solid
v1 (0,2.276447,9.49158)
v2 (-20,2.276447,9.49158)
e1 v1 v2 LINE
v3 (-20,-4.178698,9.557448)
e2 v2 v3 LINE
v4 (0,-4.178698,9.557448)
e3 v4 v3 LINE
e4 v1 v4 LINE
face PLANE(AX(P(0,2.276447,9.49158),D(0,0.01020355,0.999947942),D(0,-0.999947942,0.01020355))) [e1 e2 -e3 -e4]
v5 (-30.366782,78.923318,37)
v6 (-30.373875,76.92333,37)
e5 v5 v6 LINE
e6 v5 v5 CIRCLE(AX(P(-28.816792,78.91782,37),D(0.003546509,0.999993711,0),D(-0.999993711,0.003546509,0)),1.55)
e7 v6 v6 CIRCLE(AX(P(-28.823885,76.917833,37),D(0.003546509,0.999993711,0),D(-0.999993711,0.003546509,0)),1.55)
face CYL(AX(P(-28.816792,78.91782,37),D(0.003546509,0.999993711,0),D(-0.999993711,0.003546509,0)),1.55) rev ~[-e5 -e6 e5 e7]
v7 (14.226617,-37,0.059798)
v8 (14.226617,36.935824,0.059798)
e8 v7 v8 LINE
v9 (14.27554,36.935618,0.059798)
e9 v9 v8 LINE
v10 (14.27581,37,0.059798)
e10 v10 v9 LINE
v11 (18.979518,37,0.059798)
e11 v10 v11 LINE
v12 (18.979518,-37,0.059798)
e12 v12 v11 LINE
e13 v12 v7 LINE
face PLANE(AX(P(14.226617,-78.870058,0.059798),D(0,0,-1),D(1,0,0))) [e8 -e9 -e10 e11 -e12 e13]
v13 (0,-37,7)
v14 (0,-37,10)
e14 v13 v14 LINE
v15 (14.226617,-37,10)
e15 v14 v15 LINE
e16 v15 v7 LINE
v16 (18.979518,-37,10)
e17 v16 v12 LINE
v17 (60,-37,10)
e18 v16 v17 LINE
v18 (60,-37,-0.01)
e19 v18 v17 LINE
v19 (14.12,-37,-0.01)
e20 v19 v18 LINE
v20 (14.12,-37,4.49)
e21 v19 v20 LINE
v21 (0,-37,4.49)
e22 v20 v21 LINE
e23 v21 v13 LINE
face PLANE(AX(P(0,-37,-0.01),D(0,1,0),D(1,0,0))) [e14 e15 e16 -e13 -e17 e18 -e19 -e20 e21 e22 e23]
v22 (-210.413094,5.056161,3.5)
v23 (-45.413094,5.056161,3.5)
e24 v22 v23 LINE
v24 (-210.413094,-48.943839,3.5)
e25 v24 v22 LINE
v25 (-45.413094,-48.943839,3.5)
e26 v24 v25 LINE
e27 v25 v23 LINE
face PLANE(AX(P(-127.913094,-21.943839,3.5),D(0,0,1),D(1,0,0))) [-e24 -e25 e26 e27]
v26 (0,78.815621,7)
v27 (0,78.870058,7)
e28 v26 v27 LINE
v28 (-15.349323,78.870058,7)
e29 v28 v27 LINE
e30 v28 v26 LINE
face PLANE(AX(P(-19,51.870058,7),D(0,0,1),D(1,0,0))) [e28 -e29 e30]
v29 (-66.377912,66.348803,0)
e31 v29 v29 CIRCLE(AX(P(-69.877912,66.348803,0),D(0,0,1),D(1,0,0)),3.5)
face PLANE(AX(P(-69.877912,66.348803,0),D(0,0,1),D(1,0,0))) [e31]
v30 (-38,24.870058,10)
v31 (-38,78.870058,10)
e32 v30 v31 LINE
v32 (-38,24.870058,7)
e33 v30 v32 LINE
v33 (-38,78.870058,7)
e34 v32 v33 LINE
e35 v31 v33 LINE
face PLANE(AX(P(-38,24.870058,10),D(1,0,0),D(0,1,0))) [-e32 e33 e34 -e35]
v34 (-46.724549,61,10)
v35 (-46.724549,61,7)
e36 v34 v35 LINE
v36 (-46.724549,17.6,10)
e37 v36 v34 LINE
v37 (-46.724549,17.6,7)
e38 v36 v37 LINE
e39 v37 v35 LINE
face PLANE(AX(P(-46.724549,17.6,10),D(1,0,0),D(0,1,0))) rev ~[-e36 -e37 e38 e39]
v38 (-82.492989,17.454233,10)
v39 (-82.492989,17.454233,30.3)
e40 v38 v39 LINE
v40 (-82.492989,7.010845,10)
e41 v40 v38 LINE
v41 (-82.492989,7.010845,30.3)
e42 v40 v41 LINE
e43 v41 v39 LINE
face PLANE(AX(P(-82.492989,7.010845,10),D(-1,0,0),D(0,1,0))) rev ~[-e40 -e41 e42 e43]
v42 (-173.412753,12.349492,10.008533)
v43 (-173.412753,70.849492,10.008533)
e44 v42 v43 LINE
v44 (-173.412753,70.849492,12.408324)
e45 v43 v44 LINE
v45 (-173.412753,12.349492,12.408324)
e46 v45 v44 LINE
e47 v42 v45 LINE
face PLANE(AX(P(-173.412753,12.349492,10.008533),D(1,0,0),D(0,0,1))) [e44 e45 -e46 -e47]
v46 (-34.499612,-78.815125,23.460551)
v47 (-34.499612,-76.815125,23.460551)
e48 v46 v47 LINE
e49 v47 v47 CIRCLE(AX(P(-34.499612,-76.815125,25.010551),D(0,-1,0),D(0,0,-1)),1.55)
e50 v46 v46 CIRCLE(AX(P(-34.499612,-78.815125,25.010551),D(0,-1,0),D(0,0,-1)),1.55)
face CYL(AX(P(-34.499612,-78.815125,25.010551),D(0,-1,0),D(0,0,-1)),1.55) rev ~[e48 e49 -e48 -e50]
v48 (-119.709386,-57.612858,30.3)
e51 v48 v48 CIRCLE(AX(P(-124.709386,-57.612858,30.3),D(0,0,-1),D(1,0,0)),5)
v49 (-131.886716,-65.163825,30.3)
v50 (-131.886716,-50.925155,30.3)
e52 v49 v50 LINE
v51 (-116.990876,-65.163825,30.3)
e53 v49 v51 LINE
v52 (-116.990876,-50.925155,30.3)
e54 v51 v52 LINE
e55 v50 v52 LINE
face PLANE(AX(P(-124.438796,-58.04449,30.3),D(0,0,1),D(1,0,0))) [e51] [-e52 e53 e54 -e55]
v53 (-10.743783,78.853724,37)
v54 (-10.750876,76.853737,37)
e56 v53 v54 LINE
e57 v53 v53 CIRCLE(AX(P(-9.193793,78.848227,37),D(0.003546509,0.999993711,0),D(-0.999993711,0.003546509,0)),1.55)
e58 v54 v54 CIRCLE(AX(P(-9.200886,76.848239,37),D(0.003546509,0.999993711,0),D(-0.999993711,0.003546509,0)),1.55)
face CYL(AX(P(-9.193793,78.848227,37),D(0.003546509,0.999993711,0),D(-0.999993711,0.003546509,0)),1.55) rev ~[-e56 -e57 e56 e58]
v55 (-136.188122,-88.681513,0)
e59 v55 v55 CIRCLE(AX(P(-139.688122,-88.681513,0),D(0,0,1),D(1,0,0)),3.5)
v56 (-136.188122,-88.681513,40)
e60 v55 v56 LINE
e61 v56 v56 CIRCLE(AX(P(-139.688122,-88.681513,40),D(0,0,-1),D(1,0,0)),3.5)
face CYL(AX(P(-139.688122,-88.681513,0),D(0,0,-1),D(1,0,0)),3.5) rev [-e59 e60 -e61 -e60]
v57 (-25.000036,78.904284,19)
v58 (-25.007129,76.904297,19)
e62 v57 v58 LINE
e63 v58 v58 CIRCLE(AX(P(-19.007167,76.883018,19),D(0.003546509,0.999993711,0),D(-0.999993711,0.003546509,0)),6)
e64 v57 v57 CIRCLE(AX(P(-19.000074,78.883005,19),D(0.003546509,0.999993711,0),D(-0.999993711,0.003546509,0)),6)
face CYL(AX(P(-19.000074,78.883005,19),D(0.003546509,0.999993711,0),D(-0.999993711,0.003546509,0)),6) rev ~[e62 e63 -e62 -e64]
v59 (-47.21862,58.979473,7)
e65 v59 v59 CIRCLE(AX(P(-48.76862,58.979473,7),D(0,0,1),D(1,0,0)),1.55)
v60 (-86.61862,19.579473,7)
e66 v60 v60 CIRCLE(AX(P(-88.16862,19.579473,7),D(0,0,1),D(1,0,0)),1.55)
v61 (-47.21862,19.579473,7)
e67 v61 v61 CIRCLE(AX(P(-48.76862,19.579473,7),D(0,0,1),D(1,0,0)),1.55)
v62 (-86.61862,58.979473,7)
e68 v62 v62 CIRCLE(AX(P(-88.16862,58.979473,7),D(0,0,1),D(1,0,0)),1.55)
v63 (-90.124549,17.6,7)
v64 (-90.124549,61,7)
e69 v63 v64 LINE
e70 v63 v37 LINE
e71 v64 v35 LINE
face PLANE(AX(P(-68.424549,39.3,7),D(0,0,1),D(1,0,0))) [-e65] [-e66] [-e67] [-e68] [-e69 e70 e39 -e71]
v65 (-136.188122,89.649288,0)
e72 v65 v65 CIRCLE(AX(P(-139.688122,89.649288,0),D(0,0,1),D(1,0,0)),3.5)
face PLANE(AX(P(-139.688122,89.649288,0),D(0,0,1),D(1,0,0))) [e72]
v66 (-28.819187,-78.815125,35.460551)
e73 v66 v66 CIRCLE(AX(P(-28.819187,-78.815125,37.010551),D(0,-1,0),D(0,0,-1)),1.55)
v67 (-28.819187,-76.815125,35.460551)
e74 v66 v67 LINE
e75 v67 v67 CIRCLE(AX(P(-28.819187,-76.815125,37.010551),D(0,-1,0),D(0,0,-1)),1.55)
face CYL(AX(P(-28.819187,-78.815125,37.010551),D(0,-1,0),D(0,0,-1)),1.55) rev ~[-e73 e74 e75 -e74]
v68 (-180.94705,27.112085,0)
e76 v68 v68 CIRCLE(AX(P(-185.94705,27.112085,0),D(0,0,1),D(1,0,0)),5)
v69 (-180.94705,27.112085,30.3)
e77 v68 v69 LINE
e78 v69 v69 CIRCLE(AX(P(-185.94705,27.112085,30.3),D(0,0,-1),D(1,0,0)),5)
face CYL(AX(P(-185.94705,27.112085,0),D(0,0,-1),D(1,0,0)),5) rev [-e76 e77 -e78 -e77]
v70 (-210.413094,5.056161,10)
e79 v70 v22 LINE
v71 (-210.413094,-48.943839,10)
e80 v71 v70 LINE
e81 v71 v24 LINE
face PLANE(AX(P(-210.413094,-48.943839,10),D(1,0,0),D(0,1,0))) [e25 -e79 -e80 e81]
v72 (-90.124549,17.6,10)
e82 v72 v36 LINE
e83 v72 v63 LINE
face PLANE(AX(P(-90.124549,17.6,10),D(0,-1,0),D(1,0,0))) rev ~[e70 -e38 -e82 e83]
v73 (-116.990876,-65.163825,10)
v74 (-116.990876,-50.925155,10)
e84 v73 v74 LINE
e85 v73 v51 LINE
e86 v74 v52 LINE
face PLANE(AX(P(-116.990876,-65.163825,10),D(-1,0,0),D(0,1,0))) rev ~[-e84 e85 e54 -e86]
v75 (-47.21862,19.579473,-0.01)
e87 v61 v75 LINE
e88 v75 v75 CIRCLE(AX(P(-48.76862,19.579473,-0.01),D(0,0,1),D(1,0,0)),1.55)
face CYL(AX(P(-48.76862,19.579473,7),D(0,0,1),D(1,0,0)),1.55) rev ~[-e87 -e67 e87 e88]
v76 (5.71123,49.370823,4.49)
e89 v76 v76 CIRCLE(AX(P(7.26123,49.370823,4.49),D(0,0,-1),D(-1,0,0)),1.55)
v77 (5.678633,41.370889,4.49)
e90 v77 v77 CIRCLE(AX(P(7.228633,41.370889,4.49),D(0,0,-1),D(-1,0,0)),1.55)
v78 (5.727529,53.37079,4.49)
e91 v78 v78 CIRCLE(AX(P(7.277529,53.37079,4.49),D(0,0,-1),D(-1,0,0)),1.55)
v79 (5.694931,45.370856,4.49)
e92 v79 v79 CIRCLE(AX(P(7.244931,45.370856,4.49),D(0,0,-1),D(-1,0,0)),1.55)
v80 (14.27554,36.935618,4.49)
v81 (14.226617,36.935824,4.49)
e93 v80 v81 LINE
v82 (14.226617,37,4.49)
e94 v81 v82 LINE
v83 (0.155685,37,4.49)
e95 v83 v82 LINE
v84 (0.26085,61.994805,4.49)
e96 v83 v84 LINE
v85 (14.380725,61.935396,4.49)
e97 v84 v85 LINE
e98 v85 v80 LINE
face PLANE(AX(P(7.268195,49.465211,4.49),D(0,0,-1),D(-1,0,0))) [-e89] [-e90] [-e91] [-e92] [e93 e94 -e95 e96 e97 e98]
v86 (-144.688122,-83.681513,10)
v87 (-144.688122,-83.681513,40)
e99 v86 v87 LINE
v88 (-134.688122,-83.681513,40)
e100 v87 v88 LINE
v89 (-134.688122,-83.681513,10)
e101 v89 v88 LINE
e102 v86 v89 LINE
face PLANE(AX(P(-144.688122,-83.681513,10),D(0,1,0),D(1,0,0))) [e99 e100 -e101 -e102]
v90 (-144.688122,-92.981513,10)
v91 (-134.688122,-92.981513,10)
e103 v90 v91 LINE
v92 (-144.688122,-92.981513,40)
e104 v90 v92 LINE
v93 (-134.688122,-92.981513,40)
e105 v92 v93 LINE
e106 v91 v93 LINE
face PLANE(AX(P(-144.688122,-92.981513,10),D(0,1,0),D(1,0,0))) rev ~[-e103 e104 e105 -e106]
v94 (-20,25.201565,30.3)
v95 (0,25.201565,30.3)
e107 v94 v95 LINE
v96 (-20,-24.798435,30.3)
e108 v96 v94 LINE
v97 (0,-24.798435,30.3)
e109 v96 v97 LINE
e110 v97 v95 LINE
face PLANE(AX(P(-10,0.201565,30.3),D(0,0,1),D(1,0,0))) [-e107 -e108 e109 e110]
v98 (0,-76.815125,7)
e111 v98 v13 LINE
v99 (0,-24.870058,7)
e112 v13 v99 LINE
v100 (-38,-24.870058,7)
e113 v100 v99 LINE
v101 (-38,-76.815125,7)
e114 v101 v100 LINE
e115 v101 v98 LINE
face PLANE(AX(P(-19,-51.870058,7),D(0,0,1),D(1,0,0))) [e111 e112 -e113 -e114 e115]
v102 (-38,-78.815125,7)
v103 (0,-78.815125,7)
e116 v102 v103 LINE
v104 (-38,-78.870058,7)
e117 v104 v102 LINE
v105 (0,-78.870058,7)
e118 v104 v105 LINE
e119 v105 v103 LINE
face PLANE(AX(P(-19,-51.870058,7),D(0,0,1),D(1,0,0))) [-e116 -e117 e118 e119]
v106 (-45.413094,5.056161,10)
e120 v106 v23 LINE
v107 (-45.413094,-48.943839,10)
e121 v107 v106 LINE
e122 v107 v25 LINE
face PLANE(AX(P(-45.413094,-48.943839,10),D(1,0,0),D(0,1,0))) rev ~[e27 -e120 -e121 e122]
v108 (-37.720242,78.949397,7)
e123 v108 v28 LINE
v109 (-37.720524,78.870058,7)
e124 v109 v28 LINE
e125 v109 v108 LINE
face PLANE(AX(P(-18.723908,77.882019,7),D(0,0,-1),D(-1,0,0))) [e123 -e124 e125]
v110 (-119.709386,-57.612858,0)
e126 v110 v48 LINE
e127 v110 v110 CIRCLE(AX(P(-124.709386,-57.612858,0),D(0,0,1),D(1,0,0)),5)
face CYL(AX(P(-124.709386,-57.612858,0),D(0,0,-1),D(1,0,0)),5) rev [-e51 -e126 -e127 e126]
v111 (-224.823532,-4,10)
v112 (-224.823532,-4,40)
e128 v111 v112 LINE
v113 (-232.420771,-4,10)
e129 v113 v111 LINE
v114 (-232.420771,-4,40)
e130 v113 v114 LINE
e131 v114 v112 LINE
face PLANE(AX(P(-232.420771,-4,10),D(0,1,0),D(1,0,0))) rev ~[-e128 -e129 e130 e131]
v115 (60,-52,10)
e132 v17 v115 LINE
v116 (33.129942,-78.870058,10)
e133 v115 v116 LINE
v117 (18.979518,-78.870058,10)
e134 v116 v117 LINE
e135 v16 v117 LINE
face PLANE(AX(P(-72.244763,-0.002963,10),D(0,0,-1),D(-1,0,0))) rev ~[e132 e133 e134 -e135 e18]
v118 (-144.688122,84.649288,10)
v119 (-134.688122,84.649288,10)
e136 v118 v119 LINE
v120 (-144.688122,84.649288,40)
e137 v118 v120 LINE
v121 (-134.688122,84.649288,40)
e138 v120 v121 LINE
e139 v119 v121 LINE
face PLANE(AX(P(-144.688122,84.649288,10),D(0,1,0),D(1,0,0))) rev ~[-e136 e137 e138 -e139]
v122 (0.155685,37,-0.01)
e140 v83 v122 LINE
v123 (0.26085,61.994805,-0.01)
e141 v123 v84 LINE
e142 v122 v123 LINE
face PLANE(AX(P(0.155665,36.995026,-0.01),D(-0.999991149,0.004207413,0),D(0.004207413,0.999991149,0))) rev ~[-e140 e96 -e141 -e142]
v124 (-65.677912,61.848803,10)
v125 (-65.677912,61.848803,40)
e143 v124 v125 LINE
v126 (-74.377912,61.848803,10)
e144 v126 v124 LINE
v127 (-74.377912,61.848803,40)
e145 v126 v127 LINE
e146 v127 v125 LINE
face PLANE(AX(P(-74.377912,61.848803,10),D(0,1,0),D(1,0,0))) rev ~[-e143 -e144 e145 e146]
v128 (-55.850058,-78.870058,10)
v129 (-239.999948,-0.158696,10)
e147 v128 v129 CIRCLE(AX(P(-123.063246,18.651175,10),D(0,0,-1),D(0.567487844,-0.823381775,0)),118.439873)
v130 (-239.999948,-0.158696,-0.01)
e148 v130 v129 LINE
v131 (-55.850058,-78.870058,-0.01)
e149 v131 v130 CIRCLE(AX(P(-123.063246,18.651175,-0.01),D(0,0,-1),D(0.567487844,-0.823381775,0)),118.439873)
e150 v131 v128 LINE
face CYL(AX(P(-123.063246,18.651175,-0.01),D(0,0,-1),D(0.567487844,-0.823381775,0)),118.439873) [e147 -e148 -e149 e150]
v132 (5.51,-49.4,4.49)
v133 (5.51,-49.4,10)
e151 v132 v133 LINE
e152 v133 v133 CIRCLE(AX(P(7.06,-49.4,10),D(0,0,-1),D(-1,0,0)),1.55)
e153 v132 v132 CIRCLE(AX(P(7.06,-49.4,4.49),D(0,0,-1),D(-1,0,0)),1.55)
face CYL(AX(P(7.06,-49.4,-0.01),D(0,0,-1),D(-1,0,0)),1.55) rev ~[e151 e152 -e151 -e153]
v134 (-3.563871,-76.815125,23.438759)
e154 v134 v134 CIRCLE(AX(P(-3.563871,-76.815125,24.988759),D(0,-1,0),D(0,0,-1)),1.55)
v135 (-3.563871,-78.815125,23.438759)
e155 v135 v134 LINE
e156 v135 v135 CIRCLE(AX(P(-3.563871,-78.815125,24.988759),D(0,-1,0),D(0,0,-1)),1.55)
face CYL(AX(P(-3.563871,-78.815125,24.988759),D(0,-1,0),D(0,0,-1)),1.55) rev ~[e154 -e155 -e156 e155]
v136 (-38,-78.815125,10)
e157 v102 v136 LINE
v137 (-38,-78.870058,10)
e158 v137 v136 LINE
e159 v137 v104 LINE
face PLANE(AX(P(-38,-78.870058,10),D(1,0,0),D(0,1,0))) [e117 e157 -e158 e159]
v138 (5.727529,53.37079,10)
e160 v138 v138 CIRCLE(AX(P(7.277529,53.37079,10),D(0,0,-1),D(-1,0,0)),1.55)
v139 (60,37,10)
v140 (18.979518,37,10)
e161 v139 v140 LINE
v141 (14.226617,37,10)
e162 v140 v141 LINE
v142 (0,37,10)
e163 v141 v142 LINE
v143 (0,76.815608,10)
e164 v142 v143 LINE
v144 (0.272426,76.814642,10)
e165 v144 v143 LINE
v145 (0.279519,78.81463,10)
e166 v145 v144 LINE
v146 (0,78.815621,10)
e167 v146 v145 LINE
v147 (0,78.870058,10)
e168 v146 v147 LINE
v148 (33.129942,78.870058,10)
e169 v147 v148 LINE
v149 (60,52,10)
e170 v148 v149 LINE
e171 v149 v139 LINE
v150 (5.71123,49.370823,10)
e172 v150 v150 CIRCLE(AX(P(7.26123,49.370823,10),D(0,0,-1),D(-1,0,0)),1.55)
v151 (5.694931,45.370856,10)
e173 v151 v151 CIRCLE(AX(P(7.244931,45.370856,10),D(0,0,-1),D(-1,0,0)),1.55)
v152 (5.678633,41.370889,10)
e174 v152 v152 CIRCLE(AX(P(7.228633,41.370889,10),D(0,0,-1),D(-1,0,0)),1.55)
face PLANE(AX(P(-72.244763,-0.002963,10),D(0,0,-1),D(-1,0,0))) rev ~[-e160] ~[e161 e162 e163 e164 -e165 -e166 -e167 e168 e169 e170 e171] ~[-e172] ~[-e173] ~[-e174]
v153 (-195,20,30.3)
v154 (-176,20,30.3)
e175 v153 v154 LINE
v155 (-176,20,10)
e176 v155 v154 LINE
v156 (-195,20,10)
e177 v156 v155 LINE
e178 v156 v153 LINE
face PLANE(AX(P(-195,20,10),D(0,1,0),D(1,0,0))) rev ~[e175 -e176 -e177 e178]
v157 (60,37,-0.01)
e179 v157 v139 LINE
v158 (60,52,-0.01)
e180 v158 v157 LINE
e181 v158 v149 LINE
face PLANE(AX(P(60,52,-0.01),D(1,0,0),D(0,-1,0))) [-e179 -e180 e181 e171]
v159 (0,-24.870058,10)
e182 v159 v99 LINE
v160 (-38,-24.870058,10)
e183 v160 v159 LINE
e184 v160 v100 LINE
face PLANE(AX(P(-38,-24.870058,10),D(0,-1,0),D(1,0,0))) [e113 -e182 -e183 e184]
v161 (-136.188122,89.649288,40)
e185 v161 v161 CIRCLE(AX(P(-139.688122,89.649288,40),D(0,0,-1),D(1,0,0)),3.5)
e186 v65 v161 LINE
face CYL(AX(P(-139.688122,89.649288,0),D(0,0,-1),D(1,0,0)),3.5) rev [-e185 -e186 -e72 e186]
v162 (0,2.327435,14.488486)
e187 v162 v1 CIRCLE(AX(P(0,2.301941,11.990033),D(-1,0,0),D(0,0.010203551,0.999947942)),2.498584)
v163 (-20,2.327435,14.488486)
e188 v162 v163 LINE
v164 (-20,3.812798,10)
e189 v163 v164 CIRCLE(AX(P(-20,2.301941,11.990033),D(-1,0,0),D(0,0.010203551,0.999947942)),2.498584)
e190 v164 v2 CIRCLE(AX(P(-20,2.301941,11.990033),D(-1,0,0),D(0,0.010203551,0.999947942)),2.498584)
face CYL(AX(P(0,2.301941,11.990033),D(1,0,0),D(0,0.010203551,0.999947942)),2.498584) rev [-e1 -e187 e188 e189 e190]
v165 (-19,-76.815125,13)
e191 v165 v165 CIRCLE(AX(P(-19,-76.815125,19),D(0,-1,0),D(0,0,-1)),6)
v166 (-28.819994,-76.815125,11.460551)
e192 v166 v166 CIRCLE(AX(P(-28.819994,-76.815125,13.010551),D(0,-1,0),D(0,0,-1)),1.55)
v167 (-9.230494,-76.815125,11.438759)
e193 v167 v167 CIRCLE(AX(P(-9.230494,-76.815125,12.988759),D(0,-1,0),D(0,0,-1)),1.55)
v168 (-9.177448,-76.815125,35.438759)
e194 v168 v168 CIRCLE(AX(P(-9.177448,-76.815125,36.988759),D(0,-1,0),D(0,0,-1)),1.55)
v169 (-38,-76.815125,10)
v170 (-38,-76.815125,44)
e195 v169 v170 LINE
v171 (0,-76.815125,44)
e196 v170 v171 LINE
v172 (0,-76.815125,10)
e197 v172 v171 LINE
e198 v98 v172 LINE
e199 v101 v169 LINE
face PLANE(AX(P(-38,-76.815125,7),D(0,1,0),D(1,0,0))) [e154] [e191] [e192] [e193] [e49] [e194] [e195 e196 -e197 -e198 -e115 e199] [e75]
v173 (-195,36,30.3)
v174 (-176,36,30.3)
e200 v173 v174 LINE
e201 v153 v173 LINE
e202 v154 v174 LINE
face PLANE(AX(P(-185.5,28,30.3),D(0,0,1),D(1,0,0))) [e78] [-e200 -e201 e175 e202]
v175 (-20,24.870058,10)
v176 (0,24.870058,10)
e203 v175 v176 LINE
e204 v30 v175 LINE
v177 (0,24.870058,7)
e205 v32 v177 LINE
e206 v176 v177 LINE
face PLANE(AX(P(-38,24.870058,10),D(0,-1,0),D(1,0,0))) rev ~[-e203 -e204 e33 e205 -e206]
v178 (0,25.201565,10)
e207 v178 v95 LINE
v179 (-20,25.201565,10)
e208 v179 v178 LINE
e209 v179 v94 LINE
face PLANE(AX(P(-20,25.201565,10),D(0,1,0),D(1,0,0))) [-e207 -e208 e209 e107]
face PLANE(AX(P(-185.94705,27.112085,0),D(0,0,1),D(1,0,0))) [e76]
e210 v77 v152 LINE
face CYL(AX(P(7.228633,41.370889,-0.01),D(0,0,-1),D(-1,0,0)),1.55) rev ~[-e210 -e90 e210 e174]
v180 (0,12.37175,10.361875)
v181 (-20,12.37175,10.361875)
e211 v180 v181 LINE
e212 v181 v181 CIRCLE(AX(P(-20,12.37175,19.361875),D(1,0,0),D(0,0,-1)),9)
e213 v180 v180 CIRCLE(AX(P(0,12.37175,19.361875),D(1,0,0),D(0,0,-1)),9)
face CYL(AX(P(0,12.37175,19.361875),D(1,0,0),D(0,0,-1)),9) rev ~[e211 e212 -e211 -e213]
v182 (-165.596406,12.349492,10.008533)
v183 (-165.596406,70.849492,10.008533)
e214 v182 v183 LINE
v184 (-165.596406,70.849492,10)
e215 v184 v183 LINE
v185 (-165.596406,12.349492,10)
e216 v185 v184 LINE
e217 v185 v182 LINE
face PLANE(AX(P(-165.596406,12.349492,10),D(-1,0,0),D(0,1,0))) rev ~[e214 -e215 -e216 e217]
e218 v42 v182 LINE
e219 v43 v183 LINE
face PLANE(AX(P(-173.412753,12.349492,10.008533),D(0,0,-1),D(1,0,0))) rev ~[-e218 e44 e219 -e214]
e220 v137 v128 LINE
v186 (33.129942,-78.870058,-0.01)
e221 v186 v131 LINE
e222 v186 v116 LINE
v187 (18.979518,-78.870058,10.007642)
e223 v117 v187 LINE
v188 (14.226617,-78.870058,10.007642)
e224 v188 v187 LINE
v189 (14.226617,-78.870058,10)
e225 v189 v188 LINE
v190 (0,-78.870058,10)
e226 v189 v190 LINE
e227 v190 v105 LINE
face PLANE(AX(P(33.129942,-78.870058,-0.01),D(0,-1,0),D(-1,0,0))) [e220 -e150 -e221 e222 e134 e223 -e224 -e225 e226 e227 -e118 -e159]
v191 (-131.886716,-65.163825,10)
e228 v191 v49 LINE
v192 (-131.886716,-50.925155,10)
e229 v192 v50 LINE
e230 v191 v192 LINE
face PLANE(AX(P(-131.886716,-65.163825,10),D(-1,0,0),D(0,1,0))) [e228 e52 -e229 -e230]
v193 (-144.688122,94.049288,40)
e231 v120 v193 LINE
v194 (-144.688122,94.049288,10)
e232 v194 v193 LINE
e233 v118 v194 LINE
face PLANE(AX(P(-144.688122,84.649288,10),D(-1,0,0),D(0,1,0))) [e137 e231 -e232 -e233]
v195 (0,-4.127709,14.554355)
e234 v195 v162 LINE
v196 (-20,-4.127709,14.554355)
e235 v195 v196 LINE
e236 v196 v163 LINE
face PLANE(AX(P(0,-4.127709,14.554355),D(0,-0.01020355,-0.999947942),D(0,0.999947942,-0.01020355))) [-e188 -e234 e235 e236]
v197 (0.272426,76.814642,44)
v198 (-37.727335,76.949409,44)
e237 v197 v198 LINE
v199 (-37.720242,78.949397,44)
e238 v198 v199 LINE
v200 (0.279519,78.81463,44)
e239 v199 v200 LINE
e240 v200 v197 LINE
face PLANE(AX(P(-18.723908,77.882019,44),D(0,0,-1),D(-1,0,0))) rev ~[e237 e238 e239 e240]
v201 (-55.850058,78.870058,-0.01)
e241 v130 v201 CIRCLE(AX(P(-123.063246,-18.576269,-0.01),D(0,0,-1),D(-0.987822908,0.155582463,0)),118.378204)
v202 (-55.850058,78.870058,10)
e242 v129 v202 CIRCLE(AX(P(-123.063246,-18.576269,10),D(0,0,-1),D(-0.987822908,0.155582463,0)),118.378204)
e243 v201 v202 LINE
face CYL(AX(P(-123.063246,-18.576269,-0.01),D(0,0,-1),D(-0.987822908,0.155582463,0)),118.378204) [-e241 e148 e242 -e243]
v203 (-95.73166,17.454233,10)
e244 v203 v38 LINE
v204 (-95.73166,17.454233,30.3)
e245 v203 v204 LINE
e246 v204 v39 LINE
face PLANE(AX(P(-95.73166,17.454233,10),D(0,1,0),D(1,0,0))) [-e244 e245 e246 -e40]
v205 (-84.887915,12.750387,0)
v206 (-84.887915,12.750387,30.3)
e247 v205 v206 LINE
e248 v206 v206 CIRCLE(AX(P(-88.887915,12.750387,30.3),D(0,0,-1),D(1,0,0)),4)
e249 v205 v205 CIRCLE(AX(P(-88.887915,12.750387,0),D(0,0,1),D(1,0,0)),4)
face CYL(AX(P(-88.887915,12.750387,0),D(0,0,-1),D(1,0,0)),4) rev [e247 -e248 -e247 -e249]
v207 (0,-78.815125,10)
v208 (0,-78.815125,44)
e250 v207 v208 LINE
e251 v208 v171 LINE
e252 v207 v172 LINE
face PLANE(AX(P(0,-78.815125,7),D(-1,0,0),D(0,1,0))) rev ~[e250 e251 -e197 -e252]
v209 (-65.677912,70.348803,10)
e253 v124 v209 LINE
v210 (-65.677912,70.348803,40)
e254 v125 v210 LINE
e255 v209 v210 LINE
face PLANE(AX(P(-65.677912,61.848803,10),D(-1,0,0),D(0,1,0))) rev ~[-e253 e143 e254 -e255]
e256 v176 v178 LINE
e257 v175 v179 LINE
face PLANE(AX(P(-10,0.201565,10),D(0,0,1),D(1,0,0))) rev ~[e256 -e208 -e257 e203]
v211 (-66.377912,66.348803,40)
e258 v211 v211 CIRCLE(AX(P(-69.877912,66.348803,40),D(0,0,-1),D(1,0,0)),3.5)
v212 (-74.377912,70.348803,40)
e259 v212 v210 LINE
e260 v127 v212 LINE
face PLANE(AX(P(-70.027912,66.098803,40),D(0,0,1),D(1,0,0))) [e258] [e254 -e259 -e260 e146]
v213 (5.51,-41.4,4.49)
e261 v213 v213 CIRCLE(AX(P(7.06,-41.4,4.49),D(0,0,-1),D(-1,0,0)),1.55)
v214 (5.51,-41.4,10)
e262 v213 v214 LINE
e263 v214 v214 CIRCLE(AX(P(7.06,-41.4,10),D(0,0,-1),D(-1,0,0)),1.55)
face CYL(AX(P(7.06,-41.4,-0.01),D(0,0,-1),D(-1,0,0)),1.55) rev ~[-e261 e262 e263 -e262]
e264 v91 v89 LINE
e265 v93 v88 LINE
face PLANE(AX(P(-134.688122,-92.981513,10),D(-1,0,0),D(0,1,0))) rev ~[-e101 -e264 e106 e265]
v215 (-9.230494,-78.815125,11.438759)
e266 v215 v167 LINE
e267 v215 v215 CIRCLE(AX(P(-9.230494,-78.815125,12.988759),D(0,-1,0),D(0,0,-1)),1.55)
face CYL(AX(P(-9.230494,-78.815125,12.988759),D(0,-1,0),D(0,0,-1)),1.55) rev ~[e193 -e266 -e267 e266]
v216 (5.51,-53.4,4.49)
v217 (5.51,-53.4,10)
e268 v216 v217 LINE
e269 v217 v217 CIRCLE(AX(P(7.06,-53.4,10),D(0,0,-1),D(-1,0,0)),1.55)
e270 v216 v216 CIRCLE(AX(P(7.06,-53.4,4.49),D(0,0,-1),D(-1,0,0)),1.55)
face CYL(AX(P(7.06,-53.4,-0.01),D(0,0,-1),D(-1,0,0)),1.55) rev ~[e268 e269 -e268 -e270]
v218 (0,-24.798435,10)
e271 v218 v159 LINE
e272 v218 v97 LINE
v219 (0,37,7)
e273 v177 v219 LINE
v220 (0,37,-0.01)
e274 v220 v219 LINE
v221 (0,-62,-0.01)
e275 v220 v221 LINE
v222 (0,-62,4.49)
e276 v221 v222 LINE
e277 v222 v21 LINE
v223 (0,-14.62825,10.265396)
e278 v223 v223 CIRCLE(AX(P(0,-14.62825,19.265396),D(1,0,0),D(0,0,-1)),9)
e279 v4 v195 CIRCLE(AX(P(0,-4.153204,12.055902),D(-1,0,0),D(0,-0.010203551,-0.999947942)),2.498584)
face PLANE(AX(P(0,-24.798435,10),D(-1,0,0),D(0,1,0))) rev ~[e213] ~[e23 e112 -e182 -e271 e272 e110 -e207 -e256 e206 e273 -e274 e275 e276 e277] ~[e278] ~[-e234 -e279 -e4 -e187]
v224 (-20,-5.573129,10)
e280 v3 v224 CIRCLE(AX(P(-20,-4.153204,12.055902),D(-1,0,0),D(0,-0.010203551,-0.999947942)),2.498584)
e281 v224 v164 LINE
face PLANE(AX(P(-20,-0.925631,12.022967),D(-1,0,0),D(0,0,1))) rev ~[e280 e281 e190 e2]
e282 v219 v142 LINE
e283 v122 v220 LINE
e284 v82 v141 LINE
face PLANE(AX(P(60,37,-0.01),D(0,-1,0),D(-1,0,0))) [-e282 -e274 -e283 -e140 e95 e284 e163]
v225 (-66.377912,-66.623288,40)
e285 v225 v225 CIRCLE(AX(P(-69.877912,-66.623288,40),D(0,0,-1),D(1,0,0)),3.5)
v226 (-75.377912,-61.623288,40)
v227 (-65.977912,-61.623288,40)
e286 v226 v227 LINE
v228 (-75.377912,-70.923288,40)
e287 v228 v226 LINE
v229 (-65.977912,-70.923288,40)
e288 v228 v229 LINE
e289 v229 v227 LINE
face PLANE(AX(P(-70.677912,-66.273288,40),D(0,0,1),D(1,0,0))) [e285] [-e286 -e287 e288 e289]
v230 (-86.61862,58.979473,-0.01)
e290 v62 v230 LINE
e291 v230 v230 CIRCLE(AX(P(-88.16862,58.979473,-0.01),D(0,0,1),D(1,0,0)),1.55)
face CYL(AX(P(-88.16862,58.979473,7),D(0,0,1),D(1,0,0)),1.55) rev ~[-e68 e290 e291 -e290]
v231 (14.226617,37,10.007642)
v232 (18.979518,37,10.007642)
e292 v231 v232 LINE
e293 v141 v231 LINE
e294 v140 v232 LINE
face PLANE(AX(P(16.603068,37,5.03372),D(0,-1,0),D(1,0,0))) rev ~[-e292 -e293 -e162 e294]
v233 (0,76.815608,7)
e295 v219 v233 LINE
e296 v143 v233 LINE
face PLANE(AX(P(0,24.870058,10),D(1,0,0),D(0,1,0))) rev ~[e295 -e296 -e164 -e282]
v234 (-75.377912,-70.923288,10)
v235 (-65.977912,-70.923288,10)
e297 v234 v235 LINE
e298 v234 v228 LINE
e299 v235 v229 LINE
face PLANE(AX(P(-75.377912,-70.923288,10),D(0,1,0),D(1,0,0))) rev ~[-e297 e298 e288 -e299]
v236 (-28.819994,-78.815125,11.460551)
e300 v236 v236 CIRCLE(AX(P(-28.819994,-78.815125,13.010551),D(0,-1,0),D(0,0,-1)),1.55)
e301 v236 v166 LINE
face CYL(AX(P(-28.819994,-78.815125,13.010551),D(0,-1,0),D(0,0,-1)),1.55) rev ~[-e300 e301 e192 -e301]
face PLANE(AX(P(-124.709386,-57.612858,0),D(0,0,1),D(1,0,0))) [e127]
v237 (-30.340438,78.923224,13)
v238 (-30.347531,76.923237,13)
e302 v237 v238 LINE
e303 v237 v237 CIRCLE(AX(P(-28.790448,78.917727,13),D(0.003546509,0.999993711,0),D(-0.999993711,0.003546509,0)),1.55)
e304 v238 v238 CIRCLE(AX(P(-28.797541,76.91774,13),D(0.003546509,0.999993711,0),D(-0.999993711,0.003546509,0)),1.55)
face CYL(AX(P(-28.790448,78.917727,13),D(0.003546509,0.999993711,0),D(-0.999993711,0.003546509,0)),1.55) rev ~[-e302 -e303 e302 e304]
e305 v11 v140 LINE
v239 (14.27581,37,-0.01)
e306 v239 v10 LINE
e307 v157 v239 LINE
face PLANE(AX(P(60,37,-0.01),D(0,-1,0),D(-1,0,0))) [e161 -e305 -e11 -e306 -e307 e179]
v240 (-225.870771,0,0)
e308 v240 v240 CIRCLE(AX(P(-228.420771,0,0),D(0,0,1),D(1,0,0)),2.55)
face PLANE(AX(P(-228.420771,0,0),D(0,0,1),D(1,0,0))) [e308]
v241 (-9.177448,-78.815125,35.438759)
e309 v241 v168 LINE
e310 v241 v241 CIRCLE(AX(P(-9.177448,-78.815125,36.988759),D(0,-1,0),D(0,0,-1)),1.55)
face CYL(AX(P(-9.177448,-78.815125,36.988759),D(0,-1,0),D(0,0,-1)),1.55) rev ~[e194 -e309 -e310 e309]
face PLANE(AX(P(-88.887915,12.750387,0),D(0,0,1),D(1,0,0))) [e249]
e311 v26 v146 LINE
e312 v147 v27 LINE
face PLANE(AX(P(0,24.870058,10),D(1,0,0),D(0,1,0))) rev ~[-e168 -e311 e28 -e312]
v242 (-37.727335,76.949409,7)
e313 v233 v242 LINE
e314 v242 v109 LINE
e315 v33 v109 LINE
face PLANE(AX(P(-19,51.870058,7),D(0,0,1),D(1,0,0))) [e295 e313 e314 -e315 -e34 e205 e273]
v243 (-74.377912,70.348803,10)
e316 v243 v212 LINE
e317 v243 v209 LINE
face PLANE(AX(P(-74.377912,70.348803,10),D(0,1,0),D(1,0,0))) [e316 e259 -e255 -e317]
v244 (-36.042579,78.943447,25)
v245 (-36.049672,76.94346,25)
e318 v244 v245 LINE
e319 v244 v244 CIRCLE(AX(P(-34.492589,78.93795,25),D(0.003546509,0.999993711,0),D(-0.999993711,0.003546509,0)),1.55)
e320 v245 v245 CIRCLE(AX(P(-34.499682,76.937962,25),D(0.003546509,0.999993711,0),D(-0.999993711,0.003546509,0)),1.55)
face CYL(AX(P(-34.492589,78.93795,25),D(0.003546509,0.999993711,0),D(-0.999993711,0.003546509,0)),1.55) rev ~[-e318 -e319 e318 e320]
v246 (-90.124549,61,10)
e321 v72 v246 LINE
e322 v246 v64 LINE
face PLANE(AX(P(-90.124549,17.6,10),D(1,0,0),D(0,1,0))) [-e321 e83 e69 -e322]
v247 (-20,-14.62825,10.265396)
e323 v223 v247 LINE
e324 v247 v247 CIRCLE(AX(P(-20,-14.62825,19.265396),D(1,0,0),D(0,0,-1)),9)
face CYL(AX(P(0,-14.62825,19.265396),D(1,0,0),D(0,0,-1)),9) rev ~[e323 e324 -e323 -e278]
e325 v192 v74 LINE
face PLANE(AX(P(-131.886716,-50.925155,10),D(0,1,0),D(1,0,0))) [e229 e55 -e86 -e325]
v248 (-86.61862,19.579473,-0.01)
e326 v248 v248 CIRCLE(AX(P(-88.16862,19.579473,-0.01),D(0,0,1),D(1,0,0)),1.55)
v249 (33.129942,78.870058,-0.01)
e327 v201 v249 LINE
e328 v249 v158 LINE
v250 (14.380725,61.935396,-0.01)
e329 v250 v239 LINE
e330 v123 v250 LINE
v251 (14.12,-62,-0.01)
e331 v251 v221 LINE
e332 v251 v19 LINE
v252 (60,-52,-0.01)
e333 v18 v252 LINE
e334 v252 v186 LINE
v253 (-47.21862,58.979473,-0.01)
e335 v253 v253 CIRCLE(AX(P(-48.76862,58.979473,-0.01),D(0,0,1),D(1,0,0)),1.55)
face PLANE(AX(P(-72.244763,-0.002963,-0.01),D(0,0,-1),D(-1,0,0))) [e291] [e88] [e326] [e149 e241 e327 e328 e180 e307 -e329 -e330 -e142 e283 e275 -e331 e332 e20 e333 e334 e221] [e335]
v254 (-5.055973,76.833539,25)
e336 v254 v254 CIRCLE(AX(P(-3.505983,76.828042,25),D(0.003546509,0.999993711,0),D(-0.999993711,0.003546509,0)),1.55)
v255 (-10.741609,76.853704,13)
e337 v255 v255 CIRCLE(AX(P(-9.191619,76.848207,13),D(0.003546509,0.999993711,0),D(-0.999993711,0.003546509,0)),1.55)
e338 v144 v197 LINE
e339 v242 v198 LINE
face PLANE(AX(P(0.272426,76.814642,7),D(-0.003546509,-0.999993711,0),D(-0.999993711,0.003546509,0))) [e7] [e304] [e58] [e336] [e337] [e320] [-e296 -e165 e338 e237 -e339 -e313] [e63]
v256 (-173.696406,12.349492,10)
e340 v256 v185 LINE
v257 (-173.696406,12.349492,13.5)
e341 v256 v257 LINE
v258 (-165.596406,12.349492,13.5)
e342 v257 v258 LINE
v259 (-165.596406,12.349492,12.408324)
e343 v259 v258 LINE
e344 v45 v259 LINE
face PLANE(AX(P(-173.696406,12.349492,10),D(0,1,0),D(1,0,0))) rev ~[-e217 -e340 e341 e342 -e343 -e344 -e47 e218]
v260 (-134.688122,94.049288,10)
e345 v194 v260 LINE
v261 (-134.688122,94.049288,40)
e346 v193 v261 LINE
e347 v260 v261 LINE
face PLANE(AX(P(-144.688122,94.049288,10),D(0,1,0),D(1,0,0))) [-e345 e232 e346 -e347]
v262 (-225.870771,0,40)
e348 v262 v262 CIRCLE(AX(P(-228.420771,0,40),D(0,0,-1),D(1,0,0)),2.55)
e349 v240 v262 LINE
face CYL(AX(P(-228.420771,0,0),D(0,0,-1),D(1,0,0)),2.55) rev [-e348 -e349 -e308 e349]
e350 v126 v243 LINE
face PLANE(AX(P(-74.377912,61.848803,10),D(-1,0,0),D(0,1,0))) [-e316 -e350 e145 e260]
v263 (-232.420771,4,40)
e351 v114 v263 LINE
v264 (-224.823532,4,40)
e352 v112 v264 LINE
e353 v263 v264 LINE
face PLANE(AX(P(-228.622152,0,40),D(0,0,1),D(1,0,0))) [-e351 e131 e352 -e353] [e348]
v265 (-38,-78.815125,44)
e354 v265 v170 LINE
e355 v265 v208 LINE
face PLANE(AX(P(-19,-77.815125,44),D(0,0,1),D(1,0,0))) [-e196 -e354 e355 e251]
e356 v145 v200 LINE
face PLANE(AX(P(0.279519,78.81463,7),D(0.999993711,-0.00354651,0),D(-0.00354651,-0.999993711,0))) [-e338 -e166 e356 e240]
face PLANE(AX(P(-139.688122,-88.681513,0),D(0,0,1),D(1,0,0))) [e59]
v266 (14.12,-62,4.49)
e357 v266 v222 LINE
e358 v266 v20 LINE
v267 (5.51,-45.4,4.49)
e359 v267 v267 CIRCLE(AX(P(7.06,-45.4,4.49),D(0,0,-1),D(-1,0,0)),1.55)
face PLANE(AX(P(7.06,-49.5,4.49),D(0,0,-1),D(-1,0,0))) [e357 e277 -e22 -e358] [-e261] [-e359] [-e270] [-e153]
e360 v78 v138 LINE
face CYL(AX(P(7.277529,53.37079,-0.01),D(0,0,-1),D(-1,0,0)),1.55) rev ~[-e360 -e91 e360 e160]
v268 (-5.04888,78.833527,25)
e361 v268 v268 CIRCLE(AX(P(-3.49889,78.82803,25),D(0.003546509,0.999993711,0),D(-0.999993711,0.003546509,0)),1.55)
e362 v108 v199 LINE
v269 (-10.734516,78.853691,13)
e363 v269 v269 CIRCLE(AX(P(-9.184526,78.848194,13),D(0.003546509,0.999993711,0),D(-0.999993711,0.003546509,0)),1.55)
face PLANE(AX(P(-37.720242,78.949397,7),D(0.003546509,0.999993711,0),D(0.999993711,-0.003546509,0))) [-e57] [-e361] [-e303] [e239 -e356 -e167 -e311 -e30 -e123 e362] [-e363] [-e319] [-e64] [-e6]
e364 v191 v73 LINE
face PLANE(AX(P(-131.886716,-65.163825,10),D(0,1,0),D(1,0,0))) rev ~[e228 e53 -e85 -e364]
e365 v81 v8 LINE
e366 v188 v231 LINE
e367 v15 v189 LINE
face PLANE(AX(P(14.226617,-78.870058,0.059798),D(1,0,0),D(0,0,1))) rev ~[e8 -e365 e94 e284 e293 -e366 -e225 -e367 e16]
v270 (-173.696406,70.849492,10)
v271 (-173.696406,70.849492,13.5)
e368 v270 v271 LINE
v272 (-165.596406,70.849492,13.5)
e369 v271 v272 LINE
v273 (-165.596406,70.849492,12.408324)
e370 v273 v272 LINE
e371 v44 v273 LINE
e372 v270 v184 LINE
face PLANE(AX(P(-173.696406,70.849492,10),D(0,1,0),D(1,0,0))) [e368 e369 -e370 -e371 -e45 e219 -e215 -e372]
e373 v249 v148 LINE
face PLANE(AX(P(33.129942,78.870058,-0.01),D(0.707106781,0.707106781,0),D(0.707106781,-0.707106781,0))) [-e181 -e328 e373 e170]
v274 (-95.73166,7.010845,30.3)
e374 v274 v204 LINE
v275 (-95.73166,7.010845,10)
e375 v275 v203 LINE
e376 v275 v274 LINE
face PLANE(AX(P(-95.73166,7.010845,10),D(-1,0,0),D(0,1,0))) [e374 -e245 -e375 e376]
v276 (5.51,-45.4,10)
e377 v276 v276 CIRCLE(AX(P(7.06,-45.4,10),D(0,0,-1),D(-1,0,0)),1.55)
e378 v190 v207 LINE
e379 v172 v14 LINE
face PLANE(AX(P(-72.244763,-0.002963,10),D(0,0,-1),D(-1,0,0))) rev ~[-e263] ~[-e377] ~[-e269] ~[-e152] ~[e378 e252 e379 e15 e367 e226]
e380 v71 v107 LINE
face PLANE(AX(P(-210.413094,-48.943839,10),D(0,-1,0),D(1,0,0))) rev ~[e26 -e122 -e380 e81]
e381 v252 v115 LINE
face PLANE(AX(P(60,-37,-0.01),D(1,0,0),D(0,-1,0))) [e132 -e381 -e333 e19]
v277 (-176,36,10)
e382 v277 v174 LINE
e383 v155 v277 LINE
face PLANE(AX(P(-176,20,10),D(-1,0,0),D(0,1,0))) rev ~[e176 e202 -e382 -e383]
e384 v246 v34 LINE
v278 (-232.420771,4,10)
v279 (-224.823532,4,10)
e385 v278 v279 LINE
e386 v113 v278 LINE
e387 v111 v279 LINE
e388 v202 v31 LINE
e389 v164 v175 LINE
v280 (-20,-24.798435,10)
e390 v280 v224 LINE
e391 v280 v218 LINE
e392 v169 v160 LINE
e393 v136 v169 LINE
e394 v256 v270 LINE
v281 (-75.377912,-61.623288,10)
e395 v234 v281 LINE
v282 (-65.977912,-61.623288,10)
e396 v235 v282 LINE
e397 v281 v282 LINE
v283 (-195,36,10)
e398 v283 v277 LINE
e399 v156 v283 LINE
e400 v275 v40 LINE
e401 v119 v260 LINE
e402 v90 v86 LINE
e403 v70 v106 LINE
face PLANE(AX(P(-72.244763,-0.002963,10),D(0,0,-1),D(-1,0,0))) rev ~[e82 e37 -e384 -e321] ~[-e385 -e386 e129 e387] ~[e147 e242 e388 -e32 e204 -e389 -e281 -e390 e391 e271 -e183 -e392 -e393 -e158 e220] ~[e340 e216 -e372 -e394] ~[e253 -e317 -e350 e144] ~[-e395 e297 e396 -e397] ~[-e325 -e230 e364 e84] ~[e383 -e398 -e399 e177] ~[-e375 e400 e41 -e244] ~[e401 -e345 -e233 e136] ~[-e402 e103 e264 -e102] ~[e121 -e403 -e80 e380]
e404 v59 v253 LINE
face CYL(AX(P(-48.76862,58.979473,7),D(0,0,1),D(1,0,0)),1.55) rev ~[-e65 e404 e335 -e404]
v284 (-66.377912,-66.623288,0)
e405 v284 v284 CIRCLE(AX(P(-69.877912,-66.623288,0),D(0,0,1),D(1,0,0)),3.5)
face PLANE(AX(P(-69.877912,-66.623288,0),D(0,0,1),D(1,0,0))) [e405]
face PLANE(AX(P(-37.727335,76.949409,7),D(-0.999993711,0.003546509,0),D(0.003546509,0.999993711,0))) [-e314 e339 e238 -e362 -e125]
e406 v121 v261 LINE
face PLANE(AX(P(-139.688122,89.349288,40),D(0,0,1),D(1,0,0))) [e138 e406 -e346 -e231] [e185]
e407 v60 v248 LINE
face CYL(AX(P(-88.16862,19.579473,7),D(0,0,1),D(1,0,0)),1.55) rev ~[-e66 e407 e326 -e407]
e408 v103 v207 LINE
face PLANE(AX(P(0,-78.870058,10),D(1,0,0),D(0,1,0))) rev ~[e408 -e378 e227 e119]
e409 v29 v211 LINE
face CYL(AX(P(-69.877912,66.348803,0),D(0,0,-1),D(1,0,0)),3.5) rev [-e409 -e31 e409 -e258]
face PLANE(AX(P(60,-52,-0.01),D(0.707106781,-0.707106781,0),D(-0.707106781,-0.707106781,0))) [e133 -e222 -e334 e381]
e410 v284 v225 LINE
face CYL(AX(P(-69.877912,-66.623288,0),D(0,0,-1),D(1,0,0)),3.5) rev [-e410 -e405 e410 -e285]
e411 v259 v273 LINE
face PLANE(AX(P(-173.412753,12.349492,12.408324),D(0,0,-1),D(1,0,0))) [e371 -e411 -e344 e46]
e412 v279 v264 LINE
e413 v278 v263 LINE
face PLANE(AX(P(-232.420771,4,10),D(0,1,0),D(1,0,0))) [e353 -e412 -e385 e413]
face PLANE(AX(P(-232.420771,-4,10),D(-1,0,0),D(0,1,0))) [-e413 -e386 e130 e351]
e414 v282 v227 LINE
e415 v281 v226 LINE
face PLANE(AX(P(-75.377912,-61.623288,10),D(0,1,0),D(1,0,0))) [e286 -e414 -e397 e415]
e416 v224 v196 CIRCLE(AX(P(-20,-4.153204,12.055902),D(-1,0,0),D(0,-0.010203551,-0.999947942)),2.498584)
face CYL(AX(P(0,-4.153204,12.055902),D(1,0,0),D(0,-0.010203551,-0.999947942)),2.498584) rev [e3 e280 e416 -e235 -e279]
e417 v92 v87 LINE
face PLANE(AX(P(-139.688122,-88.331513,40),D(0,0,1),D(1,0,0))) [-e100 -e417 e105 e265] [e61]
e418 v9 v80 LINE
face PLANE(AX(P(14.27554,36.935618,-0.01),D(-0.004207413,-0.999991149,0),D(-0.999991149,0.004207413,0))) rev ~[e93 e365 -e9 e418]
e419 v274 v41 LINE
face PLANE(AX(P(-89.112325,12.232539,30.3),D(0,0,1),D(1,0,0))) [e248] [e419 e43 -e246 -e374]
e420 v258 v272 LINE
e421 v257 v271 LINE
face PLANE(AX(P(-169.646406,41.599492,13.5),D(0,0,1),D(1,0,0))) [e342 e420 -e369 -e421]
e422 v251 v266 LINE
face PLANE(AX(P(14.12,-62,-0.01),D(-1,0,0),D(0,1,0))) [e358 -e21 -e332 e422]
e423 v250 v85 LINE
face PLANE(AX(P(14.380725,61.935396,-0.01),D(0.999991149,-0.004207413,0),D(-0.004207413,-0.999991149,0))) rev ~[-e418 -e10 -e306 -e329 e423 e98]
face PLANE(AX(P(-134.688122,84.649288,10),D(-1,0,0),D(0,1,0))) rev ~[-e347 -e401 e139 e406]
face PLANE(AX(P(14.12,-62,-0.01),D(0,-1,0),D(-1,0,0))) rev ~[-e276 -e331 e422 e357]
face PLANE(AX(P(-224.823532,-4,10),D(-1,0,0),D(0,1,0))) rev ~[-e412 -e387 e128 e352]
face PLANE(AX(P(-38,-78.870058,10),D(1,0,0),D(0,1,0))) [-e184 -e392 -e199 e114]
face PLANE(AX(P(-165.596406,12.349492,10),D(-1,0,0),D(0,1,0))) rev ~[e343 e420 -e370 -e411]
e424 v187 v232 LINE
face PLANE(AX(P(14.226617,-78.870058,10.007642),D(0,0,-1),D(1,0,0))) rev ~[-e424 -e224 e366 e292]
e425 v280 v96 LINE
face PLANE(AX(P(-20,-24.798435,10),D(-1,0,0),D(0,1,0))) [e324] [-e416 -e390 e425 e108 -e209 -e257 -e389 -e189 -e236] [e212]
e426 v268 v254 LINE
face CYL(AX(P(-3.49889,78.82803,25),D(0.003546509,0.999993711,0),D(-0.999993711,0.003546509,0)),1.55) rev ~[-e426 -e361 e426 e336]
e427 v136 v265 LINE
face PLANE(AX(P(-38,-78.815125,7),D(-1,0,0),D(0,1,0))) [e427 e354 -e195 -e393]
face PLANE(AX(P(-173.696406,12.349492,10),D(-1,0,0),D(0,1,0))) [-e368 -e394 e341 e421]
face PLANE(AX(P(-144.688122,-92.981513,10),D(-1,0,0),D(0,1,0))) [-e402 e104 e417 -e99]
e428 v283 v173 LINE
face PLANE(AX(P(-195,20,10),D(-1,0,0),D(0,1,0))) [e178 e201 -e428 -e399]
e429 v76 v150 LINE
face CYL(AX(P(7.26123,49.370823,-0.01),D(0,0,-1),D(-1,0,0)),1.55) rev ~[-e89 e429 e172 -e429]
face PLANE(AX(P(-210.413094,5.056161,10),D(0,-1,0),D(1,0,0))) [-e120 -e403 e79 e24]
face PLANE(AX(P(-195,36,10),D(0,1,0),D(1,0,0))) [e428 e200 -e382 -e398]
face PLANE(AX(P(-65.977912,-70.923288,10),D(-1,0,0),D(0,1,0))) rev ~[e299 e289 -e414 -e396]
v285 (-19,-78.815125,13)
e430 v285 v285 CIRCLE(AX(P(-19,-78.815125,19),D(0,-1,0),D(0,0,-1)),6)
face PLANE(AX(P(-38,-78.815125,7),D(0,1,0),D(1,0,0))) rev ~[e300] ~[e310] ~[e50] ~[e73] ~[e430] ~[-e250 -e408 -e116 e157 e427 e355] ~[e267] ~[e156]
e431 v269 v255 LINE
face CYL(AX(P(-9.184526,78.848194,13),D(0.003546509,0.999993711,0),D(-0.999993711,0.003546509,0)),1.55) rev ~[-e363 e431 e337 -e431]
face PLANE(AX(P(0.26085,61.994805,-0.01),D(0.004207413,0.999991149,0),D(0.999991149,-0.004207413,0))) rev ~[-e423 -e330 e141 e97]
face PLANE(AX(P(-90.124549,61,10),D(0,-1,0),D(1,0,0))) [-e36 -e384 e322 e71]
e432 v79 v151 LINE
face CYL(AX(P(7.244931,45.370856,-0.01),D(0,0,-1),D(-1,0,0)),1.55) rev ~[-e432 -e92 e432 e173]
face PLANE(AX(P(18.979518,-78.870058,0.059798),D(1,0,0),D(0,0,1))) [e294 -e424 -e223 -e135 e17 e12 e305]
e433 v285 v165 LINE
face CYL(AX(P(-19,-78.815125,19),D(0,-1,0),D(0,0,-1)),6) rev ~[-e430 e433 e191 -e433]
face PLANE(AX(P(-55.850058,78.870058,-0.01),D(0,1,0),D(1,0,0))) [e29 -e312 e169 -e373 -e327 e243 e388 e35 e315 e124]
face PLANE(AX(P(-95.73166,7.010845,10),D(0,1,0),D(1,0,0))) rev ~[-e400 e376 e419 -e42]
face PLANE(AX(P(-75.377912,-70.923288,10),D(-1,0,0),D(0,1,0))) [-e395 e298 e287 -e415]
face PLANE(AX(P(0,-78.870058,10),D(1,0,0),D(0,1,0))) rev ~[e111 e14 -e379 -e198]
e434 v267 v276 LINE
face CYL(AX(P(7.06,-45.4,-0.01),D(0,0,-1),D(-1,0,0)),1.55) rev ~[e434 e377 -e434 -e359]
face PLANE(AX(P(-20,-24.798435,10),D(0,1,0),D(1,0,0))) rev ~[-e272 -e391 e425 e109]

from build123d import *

# Parameters (mm, degrees)
BOSS_EXTRUDE1_DEPTH      = 10
BOSS_EXTRUDE1_DEPTH_BACK = 0.01
SKETCH3_W                = 38
SKETCH3_H                = 54
CUT_EXTRUDE1_DEPTH       = 3
SKETCH5_W                = 38
SKETCH5_H                = 54
CUT_EXTRUDE3_DEPTH       = 3
SKETCH7_W                = 165
SKETCH7_H                = 54
CUT_EXTRUDE4_DEPTH       = 6.5
SKETCH9_W                = 19
SKETCH9_H                = 16
SKETCH9_W_2              = 13.23867097
SKETCH9_H_2              = 10.44338859
SKETCH9_W_3              = 14.8958404
SKETCH9_H_3              = 14.23867097
BOSS_EXTRUDE2_DEPTH      = 20.3
SKETCH15_W               = 20
SKETCH15_H               = 50
BOSS_EXTRUDE3_DEPTH      = 20.3
SKETCH16_W               = 7.597238681
SKETCH16_H               = 8
SKETCH16_W_2             = 10
SKETCH16_H_2             = 9.4
SKETCH16_W_3             = 8.7
SKETCH16_H_3             = 8.5
SKETCH16_W_4             = 9.4
SKETCH16_H_4             = 9.3
BOSS_EXTRUDE4_DEPTH      = 30
SKETCH17_R               = 2.55
SKETCH17_R_2             = 3.5
CUT_EXTRUDE17_DEPTH      = 263.983651767
SKETCH18_W               = 43.4
SKETCH18_H               = 43.4
CUT_EXTRUDE18_DEPTH      = 3
SKETCH20_R               = 5
SKETCH20_R_2             = 4
CUT_EXTRUDE20_DEPTH      = 263.983651767
SKETCH21_R               = 9
CUT_EXTRUDE21_DEPTH      = 20
SKETCH22_R               = 1.55
CUT_EXTRUDE23_DEPTH      = 263.010307234
SKETCH25_W               = 8.1
SKETCH25_H               = 58.5
BOSS_EXTRUDE5_DEPTH      = 3.5
SKETCH26_W               = 7.81634734
SKETCH26_H               = 2.399791276
CUT_EXTRUDE24_DEPTH      = 58.5
SKETCH28_W               = 4.75290021
SKETCH28_H               = 9.947843747
BOSS_EXTRUDE6_DEPTH      = 115.870057685
SKETCH30_W               = 14.12
SKETCH30_H               = 25
CUT_EXTRUDE25_DEPTH      = 4.5
SKETCH33_R               = 1.55
CUT_EXTRUDE26_DEPTH      = 10.01
SKETCH36_W               = 38
SKETCH36_H               = 2
BOSS_EXTRUDE7_DEPTH      = 37
SKETCH39_R               = 6
SKETCH39_R_2             = 1.55
CUT_EXTRUDE28_DEPTH      = 2
SKETCH42_R               = 6
SKETCH42_R_2             = 1.55
CUT_EXTRUDE29_DEPTH      = 2


with BuildPart() as part:
    # Sketch1 → Boss-Extrude1 (new, two sides: drawn at the far end of the back side and taken through both)
    with BuildSketch(Plane.XY.offset(-BOSS_EXTRUDE1_DEPTH_BACK)):
        with BuildLine():
            Line((0, 0), (0, -37))
            Line((0, -37), (60, -37))
            Line((60, -37), (60, -52))
            Line((60, -52), (33.129942315, -78.870057685))
            Line((33.129942315, -78.870057685), (-55.850057685, -78.870057685))
            ThreePointArc((-55.850057685, -78.870057685), (-169.614041234, -90.257166815), (-239.999947532, -0.158696229))
            ThreePointArc((-239.999947532, -0.158696229), (-169.748285548, 90.207490359), (-55.850057685, 78.870057685))
            Line((-55.850057685, 78.870057685), (33.129942315, 78.870057685))
            Line((33.129942315, 78.870057685), (60, 52))
            Line((60, 52), (60, 37))
            Line((60, 37), (0, 37))
            Line((0, 37), (0, 0))
        make_face()
    extrude(amount=BOSS_EXTRUDE1_DEPTH + BOSS_EXTRUDE1_DEPTH_BACK)

    # Sketch3 → Cut-Extrude1 (cut)
    with BuildSketch(Plane.XY.offset(10)):
        with Locations((-19, 51.870057685)):
            Rectangle(SKETCH3_W, SKETCH3_H)
    extrude(amount=-CUT_EXTRUDE1_DEPTH, mode=Mode.SUBTRACT)

    # Sketch5 → Cut-Extrude3 (cut)
    with BuildSketch(Plane.XY.offset(10)):
        with Locations((-19, -51.870057685)):
            Rectangle(SKETCH5_W, SKETCH5_H)
    extrude(amount=-CUT_EXTRUDE3_DEPTH, mode=Mode.SUBTRACT)

    # Sketch7 → Cut-Extrude4 (cut)
    with BuildSketch(Plane.XY.offset(10)):
        with Locations((-127.91309413, -21.943838981)):
            Rectangle(SKETCH7_W, SKETCH7_H)
    extrude(amount=-CUT_EXTRUDE4_DEPTH, mode=Mode.SUBTRACT)

    # Sketch9 → Boss-Extrude2 (add)
    with BuildSketch(Plane.XY.offset(10)):
        with Locations((-185.5, 28)):
            Rectangle(SKETCH9_W, SKETCH9_H)
        with Locations((-89.112324575, 12.232539195)):
            Rectangle(SKETCH9_W_2, SKETCH9_H_2)
        with Locations((-124.438795754, -58.044490005)):
            Rectangle(SKETCH9_W_3, SKETCH9_H_3)
    extrude(amount=BOSS_EXTRUDE2_DEPTH)

    # Sketch15 → Boss-Extrude3 (add)
    with BuildSketch(Plane.XY.offset(10)):
        with Locations((-10, 0.20156489)):
            Rectangle(SKETCH15_W, SKETCH15_H)
    extrude(amount=BOSS_EXTRUDE3_DEPTH)

    # Sketch16 → Boss-Extrude4 (add)
    with BuildSketch(Plane.XY.offset(10)):
        with Locations((-228.62215183, 0)):
            Rectangle(SKETCH16_W, SKETCH16_H)
        with Locations((-139.68812176, 89.3492876)):
            Rectangle(SKETCH16_W_2, SKETCH16_H_2)
        with Locations((-70.02791219, 66.09880262)):
            Rectangle(SKETCH16_W_3, SKETCH16_H_3)
        with Locations((-70.67791219, -66.2732878)):
            Rectangle(SKETCH16_W_4, SKETCH16_H_4)
        with Locations((-139.68812176, -88.33151307)):
            Rectangle(SKETCH16_W_2, SKETCH16_H_4)
    extrude(amount=BOSS_EXTRUDE4_DEPTH)

    # Sketch17 → Cut-Extrude17 (cut, through all)
    with BuildSketch(Plane.XY):
        with Locations((-228.42077117, 0)):
            Circle(SKETCH17_R)
        with Locations((-139.68812176, 89.6492876)):
            Circle(SKETCH17_R_2)
        with Locations((-69.87791219, 66.34880262)):
            Circle(SKETCH17_R_2)
        with Locations((-69.87791219, -66.6232878)):
            Circle(SKETCH17_R_2)
        with Locations((-139.68812176, -88.68151307)):
            Circle(SKETCH17_R_2)
    extrude(amount=CUT_EXTRUDE17_DEPTH, mode=Mode.SUBTRACT)

    # Sketch18 → Cut-Extrude18 (cut)
    with BuildSketch(Plane.XY.offset(10)):
        with Locations((-68.42454895, 39.3)):
            Rectangle(SKETCH18_W, SKETCH18_H)
    extrude(amount=-CUT_EXTRUDE18_DEPTH, mode=Mode.SUBTRACT)

    # Sketch20 → Cut-Extrude20 (cut, through all)
    with BuildSketch(Plane.XY):
        with Locations((-185.94705048, 27.1120848)):
            Circle(SKETCH20_R)
        with Locations((-124.709385772, -57.612858016)):
            Circle(SKETCH20_R)
        with Locations((-88.8879152, 12.75038661)):
            Circle(SKETCH20_R_2)
    extrude(amount=CUT_EXTRUDE20_DEPTH, mode=Mode.SUBTRACT)

    # Sketch21 → Cut-Extrude21 (cut)
    with BuildSketch(Plane(origin=(0, 0, 0), x_dir=(0, 0, -1), z_dir=(1, 0, 0))):
        with Locations((-19.36187505, 12.37175029)):
            Circle(SKETCH21_R)
        with Locations((-19.26539558, -14.62824971)):
            Circle(SKETCH21_R)
        with BuildLine():
            Line((-9.491579533, 2.276446619), (-9.557448357, -4.178698144))
            ThreePointArc((-9.557448357, -4.178698144), (-12.081396215, -6.651657156), (-14.554355227, -4.127709299))
            Line((-14.554355227, -4.127709299), (-14.488486403, 2.327435464))
            ThreePointArc((-14.488486403, 2.327435464), (-11.964538545, 4.800394476), (-9.491579533, 2.276446619))
        make_face()
    extrude(amount=-CUT_EXTRUDE21_DEPTH, mode=Mode.SUBTRACT)

    # Sketch22 → Cut-Extrude23 (cut, through all)
    with BuildSketch(Plane.XY.offset(7)):
        with Locations((-88.16862044, 58.97947337)):
            Circle(SKETCH22_R)
        with Locations((-48.76862044, 58.97947337)):
            Circle(SKETCH22_R)
        with Locations((-48.76862044, 19.57947337)):
            Circle(SKETCH22_R)
        with Locations((-88.16862044, 19.57947337)):
            Circle(SKETCH22_R)
    extrude(amount=-CUT_EXTRUDE23_DEPTH, mode=Mode.SUBTRACT)

    # Sketch25 → Boss-Extrude5 (add)
    with BuildSketch(Plane.XY.offset(10)):
        with Locations((-169.64640613, 41.59949177)):
            Rectangle(SKETCH25_W, SKETCH25_H)
    extrude(amount=BOSS_EXTRUDE5_DEPTH)

    # Sketch26 → Cut-Extrude24 (cut)
    with BuildSketch(Plane.XZ.offset(-12.34949177)):
        with Locations((-169.5045798, 11.208428435)):
            Rectangle(SKETCH26_W, SKETCH26_H)
    extrude(amount=-CUT_EXTRUDE24_DEPTH, mode=Mode.SUBTRACT)

    # Sketch28 → Boss-Extrude6 (add)
    with BuildSketch(Plane.XZ.offset(78.870057685)):
        with Locations((16.603067585, 5.033719824)):
            Rectangle(SKETCH28_W, SKETCH28_H)
    extrude(amount=-BOSS_EXTRUDE6_DEPTH)

    # Sketch30 → Cut-Extrude25 (cut)
    with BuildSketch(Plane(origin=(0, 0, -0.01), x_dir=(-1, 0, 0), z_dir=(0, 0, -1))):
        with Locations((-7.06, -49.5)):
            Rectangle(SKETCH30_W, SKETCH30_H)
        Polygon((-14.38072485, 61.935396467), (-14.275539526, 36.935617747), (-0.155664505, 36.995026418), (-0.260849829, 61.994805138), align=None)
    extrude(amount=-CUT_EXTRUDE25_DEPTH, mode=Mode.SUBTRACT)

    # Sketch33 → Cut-Extrude26 (cut)
    with BuildSketch(Plane(origin=(0, 0, -0.01), x_dir=(-1, 0, 0), z_dir=(0, 0, -1))):
        with Locations((-7.06, -53.4)):
            Circle(SKETCH33_R)
        with Locations((-7.06, -49.4)):
            Circle(SKETCH33_R)
        with Locations((-7.06, -45.4)):
            Circle(SKETCH33_R)
        with Locations((-7.06, -41.4)):
            Circle(SKETCH33_R)
        with Locations((-7.228632788, 41.370889137)):
            Circle(SKETCH33_R)
        with Locations((-7.244931474, 45.370855931)):
            Circle(SKETCH33_R)
        with Locations((-7.261230159, 49.370822725)):
            Circle(SKETCH33_R)
        with Locations((-7.277528845, 53.370789519)):
            Circle(SKETCH33_R)
    extrude(amount=-CUT_EXTRUDE26_DEPTH, mode=Mode.SUBTRACT)

    # Sketch36 → Boss-Extrude7 (add)
    with BuildSketch(Plane.XY.offset(7)):
        Polygon((0.279518574, 78.814629504), (0.272425555, 76.814642082), (-37.727335467, 76.949409435), (-37.720242449, 78.949396858), align=None)
        with Locations((-19, -77.815125164)):
            Rectangle(SKETCH36_W, SKETCH36_H)
    extrude(amount=BOSS_EXTRUDE7_DEPTH)

    # Sketch39 → Cut-Extrude28 (cut)
    with BuildSketch(Plane.XZ.offset(78.815125164)):
        with Locations(Location((-19, 19, 0), (0, 0, 270))):
            Circle(SKETCH39_R)
        with Locations(Location((-34.499611559, 25.01055106, 0), (0, 0, 270))):
            Circle(SKETCH39_R_2)
        with Locations(Location((-3.563871147, 24.988758691, 0), (0, 0, 270))):
            Circle(SKETCH39_R_2)
        with Locations(Location((-28.819186805, 37.01055106, 0), (0, 0, 270))):
            Circle(SKETCH39_R_2)
        with Locations(Location((-9.177448314, 36.988758691, 0), (0, 0, 270))):
            Circle(SKETCH39_R_2)
        with Locations(Location((-28.819994175, 13.01055106, 0), (0, 0, 270))):
            Circle(SKETCH39_R_2)
        with Locations(Location((-9.230494356, 12.988758691, 0), (0, 0, 270))):
            Circle(SKETCH39_R_2)
    extrude(amount=-CUT_EXTRUDE28_DEPTH, mode=Mode.SUBTRACT)

    # Sketch42 → Cut-Extrude29 (cut)
    with BuildSketch(Plane(origin=(0.279518574, 78.814629504, 0), x_dir=(0.9999937111161443, -0.003546509292438372, 0), z_dir=(0.003546509292438372, 0.9999937111161443, 0))):
        with Locations(Location((-19.279713392, -19, 0), (0, 0, 180))):
            Circle(SKETCH42_R)
        with Locations(Location((-29.070149337, -13, 0), (0, 0, 180))):
            Circle(SKETCH42_R_2)
        with Locations(Location((-3.778432466, -25, 0), (0, 0, 180))):
            Circle(SKETCH42_R_2)
        with Locations(Location((-9.464104196, -13, 0), (0, 0, 180))):
            Circle(SKETCH42_R_2)
        with Locations(Location((-34.772326096, -25, 0), (0, 0, 180))):
            Circle(SKETCH42_R_2)
        with Locations(Location((-29.096493177, -37, 0), (0, 0, 180))):
            Circle(SKETCH42_R_2)
        with Locations(Location((-9.473371075, -37, 0), (0, 0, 180))):
            Circle(SKETCH42_R_2)
    extrude(amount=-CUT_EXTRUDE29_DEPTH, mode=Mode.SUBTRACT)


solid = part.part
